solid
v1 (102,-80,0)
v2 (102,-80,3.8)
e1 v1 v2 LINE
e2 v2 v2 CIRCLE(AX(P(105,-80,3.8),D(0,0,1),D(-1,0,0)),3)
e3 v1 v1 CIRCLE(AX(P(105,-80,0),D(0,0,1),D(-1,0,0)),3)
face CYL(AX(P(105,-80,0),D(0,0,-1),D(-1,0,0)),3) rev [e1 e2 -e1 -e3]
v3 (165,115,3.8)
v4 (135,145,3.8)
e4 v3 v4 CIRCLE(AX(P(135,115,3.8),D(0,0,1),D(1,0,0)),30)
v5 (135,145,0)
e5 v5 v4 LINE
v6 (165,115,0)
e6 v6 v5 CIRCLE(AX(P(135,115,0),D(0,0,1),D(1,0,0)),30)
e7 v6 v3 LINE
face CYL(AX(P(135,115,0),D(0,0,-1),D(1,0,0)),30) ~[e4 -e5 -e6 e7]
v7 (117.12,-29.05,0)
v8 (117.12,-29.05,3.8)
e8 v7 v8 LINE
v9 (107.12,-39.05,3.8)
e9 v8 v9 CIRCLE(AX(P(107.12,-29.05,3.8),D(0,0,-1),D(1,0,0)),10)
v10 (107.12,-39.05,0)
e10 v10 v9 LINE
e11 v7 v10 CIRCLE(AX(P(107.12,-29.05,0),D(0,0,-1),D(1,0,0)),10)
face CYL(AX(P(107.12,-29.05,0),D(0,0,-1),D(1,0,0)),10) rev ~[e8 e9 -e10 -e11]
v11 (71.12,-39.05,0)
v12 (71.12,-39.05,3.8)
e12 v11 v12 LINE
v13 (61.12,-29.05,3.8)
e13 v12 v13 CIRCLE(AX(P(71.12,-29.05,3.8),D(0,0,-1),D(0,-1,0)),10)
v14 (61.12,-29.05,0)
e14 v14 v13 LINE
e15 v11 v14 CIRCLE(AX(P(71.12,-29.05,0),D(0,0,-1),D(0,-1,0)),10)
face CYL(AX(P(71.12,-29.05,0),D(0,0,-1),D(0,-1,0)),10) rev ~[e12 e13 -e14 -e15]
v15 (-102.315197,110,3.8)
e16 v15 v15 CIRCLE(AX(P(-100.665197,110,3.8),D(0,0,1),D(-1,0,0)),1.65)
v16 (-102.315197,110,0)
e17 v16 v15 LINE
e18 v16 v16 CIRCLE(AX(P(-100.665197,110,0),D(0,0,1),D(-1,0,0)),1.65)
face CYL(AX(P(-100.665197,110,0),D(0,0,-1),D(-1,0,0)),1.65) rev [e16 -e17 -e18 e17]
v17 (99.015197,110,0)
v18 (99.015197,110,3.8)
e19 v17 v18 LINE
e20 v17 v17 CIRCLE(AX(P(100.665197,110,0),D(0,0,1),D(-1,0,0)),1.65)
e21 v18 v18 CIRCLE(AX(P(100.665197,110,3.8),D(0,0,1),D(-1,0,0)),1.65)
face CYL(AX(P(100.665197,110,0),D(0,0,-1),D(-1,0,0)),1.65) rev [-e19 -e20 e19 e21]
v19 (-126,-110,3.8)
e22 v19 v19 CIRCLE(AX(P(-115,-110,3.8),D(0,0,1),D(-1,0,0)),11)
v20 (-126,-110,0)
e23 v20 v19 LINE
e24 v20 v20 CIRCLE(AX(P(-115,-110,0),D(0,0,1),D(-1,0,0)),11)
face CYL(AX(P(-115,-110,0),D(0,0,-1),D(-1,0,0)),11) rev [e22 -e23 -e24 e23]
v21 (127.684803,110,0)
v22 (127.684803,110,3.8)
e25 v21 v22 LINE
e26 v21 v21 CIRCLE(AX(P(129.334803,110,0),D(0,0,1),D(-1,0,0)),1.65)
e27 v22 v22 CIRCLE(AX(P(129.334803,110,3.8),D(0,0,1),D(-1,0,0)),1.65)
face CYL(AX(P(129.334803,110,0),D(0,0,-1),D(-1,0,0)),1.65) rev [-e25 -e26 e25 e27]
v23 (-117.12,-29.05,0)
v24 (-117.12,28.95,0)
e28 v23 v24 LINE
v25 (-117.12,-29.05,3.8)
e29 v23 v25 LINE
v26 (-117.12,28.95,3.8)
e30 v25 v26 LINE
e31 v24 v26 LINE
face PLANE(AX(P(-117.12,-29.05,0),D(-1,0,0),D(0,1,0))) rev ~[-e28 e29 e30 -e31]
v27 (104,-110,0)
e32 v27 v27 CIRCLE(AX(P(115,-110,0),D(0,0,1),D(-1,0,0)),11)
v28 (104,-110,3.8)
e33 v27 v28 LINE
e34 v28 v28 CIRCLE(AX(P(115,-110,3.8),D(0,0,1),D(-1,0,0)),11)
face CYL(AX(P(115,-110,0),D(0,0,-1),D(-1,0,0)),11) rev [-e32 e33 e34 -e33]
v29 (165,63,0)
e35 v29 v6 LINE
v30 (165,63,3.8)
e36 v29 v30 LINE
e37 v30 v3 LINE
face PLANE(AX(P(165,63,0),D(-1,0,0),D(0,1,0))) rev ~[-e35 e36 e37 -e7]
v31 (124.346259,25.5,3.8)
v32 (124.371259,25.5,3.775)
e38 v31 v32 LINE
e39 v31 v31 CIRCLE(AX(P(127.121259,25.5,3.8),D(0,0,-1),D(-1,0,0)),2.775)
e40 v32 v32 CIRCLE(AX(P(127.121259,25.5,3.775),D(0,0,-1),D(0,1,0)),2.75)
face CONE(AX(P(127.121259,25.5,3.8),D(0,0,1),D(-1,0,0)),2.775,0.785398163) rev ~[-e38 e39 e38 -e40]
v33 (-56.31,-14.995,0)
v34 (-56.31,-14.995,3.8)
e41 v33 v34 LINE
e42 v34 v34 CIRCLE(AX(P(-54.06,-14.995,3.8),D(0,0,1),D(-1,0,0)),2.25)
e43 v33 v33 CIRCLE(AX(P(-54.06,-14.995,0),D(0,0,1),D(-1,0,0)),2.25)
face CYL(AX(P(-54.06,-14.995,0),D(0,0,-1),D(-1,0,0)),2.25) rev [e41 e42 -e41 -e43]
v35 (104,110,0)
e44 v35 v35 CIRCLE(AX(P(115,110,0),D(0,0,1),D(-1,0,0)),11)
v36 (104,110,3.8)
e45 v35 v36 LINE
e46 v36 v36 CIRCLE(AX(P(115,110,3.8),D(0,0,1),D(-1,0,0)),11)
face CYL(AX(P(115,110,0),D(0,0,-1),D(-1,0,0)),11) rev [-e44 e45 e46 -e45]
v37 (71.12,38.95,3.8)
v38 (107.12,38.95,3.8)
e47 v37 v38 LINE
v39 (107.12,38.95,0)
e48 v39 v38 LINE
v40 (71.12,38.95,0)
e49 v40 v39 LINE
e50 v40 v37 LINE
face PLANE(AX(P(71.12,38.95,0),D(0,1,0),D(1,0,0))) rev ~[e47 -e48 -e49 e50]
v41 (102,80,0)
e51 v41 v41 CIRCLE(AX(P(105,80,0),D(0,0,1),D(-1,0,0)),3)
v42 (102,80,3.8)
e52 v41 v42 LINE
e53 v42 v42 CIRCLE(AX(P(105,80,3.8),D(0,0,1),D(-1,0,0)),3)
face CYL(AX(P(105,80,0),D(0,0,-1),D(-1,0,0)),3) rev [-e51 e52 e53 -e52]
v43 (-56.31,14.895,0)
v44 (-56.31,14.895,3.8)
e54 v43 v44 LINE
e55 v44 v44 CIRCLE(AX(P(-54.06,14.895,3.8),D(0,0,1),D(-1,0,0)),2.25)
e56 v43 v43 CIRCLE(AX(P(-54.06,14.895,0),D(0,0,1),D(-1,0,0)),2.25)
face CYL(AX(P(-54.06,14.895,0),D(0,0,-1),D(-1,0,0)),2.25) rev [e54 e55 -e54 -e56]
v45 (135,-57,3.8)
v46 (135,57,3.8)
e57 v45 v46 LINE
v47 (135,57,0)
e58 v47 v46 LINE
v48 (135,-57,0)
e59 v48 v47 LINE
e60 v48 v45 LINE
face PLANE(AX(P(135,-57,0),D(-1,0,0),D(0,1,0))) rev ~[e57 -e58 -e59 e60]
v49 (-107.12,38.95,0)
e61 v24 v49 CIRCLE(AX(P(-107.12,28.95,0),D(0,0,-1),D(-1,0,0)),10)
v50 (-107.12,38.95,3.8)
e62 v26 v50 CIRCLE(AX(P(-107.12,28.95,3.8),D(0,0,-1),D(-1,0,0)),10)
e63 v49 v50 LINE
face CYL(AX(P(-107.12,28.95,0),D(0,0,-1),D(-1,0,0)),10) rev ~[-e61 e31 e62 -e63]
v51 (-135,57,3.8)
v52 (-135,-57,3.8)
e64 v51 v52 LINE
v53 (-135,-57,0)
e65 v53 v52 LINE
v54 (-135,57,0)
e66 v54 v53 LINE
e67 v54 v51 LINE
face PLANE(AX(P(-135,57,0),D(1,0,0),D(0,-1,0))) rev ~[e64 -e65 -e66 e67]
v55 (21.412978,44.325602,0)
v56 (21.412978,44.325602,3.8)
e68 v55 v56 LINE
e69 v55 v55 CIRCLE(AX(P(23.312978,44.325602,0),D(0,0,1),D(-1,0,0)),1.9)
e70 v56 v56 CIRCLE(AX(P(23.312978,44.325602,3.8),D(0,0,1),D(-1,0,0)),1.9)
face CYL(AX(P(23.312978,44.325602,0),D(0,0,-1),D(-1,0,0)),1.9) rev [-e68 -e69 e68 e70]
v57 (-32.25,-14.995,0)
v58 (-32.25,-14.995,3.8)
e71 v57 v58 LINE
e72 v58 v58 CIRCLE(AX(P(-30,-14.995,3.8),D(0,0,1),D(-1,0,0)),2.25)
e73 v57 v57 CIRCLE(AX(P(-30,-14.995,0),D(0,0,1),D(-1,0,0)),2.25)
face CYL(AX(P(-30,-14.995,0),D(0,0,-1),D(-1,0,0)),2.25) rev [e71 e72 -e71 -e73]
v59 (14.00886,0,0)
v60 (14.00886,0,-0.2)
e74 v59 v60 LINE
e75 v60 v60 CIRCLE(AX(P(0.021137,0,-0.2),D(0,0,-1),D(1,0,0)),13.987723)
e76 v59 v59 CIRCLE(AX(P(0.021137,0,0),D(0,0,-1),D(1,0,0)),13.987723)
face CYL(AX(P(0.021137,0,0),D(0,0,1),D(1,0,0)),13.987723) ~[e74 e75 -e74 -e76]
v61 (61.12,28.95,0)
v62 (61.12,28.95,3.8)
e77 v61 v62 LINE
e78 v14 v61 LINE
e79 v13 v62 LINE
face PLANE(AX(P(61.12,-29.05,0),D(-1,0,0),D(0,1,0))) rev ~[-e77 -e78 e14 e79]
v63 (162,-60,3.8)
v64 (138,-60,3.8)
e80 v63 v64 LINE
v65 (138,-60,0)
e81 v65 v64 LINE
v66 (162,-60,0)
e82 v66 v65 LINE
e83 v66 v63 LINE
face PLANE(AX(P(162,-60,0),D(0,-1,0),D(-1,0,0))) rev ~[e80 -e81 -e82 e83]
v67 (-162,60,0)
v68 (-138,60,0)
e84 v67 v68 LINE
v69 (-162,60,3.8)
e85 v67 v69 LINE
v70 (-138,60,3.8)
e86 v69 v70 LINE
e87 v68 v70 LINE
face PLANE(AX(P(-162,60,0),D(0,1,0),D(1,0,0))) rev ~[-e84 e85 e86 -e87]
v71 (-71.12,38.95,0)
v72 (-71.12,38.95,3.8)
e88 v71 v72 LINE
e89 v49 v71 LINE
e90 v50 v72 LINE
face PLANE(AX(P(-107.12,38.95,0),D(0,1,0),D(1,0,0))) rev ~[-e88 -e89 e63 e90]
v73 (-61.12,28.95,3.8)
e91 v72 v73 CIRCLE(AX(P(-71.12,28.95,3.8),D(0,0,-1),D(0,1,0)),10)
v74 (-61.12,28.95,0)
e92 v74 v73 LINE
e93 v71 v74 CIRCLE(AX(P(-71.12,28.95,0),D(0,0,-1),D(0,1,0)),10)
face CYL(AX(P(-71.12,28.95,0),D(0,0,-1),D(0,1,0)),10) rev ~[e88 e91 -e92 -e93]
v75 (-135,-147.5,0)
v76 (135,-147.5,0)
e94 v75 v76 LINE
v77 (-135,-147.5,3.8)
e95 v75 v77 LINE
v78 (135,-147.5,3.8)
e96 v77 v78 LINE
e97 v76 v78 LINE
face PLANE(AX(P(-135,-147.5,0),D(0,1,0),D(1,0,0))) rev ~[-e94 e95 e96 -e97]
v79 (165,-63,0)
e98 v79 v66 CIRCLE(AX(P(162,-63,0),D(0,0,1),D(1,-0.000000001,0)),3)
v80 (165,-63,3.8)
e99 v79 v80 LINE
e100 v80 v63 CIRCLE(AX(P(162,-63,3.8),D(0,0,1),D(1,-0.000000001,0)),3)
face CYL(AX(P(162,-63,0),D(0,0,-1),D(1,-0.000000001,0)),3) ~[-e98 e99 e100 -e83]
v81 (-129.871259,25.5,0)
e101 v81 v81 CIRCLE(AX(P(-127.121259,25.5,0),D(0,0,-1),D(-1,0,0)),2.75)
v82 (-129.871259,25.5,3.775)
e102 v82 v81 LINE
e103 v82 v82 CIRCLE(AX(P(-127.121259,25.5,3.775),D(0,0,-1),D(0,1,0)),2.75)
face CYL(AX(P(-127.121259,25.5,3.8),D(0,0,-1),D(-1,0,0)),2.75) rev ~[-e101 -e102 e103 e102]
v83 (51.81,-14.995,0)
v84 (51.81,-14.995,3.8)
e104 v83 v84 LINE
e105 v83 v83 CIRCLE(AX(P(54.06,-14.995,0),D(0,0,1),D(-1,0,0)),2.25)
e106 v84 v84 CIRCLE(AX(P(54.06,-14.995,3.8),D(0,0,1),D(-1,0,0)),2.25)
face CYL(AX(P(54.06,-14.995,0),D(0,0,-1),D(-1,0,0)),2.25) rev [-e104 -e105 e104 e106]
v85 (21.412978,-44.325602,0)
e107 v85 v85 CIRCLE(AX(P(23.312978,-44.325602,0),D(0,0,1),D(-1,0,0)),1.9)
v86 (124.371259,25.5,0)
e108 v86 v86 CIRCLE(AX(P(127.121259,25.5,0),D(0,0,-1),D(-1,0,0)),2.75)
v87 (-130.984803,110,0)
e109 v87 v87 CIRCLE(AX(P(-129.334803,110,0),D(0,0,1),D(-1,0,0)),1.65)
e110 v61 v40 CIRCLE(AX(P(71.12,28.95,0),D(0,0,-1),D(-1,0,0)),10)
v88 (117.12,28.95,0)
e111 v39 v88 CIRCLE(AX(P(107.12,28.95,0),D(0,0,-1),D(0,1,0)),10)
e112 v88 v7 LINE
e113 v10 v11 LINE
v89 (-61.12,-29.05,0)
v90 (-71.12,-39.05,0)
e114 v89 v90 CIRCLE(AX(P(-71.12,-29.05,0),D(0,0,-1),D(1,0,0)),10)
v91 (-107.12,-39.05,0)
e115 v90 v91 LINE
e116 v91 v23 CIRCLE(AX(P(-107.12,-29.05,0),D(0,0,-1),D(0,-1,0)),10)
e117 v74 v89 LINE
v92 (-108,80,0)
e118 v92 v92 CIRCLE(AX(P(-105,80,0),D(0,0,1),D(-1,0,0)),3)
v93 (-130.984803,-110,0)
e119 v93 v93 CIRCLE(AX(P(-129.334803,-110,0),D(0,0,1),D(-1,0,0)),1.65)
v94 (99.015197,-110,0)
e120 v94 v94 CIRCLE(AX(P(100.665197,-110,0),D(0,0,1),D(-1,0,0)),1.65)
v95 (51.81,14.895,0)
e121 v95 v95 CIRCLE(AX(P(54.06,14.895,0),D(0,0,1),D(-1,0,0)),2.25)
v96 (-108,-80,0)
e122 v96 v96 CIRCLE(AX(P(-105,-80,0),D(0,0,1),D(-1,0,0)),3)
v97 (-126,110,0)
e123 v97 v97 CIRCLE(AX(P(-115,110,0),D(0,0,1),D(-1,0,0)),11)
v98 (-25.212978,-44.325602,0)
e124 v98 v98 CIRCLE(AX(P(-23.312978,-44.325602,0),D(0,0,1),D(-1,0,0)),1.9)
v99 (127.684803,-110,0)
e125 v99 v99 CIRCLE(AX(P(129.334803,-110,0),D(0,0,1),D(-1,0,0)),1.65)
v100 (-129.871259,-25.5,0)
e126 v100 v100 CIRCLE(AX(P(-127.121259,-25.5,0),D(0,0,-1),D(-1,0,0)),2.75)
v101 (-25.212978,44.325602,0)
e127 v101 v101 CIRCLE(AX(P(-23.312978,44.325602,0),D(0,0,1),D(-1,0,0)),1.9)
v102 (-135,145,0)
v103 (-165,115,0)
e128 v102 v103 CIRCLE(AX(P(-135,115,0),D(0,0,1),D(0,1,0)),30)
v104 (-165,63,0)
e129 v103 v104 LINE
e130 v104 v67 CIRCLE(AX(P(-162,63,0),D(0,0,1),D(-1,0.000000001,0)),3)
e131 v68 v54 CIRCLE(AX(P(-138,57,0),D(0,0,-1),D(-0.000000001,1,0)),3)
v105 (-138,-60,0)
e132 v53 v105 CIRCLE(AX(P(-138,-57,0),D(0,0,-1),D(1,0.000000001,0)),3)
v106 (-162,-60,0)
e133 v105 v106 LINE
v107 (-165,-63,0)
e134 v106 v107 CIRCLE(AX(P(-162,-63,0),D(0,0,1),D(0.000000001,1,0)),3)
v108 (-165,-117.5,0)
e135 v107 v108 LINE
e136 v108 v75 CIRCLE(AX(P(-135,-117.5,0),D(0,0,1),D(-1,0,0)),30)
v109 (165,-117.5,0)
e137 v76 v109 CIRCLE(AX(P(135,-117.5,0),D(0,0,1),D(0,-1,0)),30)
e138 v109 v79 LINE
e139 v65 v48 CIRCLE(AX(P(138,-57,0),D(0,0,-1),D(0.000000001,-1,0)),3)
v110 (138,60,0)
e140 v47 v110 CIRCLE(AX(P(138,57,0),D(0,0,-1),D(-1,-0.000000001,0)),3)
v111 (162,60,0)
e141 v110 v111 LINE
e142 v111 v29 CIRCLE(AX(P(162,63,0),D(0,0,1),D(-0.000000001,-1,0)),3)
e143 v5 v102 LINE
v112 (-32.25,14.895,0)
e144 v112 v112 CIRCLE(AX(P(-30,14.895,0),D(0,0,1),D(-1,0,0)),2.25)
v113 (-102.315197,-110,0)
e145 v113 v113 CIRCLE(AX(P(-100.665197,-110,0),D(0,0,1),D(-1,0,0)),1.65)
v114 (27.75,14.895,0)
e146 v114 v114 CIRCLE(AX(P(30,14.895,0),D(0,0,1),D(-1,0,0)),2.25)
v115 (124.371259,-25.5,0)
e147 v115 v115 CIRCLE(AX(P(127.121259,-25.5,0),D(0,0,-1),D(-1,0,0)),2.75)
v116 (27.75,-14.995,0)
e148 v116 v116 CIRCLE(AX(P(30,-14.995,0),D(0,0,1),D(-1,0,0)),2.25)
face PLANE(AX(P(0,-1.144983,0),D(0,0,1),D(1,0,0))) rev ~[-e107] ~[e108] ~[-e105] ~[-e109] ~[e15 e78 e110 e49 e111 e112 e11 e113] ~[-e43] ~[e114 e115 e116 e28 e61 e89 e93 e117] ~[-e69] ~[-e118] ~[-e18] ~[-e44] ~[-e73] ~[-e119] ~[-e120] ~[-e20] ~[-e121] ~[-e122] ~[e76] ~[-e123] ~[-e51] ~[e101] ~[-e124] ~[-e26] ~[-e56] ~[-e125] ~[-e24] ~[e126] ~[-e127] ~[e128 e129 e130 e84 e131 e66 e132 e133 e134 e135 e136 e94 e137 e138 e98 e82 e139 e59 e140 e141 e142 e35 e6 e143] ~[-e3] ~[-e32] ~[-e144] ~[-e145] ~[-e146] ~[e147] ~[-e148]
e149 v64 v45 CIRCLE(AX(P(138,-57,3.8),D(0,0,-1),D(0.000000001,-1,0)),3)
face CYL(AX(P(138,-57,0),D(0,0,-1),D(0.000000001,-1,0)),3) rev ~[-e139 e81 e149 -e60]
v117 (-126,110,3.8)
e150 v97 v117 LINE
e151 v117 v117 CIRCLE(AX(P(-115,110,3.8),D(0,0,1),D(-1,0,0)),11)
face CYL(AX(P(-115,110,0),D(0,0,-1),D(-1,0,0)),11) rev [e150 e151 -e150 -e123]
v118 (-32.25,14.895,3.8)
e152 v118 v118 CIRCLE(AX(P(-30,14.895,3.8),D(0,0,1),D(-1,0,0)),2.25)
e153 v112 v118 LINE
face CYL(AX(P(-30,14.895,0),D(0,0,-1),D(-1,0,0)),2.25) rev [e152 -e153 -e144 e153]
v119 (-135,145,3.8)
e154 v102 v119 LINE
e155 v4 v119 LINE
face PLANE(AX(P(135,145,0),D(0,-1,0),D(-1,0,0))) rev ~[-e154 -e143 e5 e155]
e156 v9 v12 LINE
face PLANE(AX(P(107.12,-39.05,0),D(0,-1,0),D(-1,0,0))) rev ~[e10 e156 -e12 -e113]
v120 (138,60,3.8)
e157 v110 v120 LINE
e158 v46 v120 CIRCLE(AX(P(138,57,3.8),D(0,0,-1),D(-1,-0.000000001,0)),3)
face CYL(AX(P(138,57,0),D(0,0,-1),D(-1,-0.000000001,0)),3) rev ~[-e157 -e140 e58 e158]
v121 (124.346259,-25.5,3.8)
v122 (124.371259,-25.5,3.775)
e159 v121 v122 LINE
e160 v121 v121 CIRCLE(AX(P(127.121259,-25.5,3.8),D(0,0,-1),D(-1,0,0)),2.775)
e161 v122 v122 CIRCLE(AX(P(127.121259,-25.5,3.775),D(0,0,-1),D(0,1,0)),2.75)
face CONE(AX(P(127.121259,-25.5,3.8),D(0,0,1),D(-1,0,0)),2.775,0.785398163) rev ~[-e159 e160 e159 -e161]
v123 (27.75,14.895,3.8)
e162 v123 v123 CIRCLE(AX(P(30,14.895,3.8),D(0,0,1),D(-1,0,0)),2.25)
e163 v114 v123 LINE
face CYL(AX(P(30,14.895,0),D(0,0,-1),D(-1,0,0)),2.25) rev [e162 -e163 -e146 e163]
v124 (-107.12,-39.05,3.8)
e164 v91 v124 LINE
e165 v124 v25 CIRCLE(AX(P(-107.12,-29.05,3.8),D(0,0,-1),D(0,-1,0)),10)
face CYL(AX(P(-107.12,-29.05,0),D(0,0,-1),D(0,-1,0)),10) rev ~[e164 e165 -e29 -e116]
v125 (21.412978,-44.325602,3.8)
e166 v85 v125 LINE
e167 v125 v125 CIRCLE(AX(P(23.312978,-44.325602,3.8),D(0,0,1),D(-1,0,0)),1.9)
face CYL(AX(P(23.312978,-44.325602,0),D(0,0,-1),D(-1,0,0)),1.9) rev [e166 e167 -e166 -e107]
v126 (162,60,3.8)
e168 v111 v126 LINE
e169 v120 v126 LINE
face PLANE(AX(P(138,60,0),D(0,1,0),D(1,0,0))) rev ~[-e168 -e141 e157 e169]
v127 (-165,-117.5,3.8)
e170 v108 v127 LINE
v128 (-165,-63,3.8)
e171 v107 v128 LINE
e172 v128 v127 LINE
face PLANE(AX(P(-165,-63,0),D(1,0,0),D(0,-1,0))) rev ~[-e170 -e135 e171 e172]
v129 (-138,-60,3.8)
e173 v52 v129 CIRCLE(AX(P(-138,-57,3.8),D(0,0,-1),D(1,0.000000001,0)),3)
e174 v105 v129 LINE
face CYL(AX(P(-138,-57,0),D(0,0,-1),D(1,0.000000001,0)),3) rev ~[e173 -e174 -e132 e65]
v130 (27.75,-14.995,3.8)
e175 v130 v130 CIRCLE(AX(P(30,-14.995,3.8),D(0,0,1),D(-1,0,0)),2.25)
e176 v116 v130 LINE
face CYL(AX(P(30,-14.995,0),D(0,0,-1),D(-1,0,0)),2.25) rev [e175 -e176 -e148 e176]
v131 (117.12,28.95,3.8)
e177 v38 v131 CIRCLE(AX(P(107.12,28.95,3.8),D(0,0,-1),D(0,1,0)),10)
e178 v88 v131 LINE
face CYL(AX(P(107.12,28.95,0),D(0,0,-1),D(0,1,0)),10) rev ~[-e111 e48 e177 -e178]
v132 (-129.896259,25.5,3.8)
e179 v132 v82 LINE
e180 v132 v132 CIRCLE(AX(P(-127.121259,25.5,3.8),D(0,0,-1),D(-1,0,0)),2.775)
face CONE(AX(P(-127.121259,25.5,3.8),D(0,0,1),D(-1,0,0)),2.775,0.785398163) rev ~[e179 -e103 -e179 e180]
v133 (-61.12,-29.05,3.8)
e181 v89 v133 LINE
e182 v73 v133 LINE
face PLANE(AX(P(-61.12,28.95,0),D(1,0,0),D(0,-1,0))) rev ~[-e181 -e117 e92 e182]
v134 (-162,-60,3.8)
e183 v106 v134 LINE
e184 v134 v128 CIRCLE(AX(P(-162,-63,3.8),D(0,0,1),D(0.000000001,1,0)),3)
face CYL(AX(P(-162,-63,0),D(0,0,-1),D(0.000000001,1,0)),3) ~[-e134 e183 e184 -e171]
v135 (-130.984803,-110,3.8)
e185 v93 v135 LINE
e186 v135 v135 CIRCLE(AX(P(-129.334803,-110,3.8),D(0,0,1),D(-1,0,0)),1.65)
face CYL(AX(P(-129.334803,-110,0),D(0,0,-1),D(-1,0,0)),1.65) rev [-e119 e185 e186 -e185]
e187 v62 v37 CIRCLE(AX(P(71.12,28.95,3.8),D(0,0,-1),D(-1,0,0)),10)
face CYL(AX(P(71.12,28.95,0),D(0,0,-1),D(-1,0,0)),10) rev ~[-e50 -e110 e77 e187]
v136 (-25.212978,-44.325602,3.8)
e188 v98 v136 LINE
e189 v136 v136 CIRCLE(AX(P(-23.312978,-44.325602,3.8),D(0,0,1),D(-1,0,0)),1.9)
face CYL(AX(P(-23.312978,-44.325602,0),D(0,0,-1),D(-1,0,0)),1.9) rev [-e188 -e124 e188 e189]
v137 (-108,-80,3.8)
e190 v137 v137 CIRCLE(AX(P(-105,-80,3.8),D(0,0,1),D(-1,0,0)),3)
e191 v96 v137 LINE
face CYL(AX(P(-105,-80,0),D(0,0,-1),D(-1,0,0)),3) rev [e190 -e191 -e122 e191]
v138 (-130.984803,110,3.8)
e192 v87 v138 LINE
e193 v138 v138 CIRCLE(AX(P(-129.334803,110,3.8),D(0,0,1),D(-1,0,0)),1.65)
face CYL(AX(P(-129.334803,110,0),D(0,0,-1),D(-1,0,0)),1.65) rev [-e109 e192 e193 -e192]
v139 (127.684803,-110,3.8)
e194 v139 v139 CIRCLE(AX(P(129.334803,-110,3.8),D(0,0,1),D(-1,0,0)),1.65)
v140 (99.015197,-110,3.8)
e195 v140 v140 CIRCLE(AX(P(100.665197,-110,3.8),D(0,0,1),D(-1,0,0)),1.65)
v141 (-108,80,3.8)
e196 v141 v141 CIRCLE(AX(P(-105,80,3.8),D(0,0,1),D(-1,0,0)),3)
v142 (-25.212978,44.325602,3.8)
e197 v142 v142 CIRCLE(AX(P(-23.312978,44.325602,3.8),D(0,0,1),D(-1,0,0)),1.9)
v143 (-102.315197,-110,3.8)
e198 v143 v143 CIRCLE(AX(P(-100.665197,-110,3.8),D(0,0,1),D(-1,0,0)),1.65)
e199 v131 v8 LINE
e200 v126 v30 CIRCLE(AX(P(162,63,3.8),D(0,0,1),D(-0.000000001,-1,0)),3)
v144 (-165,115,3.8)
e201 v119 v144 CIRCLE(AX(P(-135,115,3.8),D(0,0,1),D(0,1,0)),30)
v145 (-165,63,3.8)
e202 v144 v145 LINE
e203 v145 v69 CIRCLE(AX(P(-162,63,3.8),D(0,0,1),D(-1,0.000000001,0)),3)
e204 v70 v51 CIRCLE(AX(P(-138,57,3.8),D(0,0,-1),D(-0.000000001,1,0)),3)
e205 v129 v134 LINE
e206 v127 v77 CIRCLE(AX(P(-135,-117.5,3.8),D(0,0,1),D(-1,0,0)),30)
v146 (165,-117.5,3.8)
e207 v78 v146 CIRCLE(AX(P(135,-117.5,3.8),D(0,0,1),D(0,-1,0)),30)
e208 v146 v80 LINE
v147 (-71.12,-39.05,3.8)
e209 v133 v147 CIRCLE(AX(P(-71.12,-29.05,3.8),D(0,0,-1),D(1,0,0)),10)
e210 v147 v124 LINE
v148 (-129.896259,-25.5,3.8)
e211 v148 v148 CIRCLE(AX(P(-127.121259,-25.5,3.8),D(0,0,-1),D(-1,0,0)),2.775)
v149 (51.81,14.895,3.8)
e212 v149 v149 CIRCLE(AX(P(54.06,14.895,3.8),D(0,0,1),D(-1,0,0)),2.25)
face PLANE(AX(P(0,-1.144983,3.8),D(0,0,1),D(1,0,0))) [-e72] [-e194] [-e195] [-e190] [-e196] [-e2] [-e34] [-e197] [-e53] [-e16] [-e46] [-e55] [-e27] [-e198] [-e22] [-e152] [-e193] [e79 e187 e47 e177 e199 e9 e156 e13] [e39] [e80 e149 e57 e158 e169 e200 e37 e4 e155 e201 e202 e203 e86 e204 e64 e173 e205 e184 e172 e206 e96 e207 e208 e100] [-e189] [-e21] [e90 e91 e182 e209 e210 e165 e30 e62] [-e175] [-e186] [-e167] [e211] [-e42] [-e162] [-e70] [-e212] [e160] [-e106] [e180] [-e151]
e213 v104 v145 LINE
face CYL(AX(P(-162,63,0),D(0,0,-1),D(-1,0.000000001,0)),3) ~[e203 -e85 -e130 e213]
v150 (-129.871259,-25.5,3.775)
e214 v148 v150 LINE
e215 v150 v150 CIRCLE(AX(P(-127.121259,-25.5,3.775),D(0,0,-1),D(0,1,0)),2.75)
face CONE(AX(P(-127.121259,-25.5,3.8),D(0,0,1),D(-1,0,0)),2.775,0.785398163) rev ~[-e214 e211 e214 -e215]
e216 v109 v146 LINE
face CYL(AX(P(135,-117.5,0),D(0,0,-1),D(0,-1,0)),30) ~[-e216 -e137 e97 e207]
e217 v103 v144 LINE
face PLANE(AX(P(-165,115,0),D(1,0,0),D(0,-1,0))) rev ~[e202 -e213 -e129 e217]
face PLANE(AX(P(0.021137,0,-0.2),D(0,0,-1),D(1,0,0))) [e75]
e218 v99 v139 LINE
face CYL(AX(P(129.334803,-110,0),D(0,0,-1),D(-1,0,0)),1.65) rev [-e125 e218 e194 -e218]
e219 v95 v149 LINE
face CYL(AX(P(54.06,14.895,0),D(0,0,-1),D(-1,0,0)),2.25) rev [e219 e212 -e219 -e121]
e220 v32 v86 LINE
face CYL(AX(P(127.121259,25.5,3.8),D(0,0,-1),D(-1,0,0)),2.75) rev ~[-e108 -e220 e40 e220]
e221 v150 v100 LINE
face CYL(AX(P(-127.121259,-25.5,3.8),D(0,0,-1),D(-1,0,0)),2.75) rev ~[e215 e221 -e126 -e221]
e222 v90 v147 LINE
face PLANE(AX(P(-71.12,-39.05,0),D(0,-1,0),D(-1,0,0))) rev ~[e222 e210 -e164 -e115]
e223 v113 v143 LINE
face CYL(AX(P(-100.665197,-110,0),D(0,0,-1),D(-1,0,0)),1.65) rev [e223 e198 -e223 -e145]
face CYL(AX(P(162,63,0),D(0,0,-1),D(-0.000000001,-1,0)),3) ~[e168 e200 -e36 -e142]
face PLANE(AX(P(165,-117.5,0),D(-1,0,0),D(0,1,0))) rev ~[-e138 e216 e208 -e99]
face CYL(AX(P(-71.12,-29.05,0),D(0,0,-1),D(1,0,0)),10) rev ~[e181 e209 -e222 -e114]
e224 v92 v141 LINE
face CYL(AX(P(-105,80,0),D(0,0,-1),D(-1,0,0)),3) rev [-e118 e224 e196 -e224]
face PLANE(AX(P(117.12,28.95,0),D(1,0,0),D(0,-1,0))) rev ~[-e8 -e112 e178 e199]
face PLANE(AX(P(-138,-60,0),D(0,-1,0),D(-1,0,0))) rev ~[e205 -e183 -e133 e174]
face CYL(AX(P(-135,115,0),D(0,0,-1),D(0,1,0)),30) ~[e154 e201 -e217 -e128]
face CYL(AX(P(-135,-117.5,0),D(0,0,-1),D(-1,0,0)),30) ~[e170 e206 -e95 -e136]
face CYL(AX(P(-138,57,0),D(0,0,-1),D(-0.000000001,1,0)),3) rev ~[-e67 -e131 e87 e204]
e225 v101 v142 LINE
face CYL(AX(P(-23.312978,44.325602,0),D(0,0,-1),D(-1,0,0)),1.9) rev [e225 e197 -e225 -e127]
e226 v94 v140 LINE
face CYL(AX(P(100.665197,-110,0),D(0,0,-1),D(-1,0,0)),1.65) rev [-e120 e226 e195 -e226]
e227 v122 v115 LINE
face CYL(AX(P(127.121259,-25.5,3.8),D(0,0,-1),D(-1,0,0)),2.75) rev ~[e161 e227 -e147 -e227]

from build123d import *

# Parameters (mm, degrees)
SKETCH2_R                      = 1.65
SKETCH2_R_2                    = 11
SKETCH2_R_3                    = 3
SKETCH2_R_4                    = 1.9
SKETCH2_R_5                    = 2.25
BOSS_EXTRUDE1_DEPTH            = 3.8
M5_CLEARANCE_HOLE1_D           = 5.5
M5_CLEARANCE_HOLE1_CSINK_D     = 5.55
M5_CLEARANCE_HOLE1_CSINK_ANGLE = 90
SKETCH4_R                      = 13.987722527
BOSS_EXTRUDE2_DEPTH            = 0.2


with BuildPart() as part:
    # Sketch2 → Boss-Extrude1 (new body)
    with BuildSketch(Plane.XY):
        with BuildLine():
            Line((165, 63), (165, 115))
            ThreePointArc((165, 115), (156.213203436, 136.213203436), (135, 145))
            Line((135, 145), (71.563974327, 145))
            Line((71.563974327, 145), (-71.563974327, 145))
            Line((-71.563974327, 145), (-135, 145))
            ThreePointArc((-135, 145), (-156.213203436, 136.213203436), (-165, 115))
            Line((-165, 115), (-165, 63))
            ThreePointArc((-165, 63), (-164.121320344, 60.878679656), (-162, 60))
            Line((-162, 60), (-138, 60))
            ThreePointArc((-138, 60), (-135.878679656, 59.121320344), (-135, 57))
            Line((-135, 57), (-135, -57))
            ThreePointArc((-135, -57), (-135.878679656, -59.121320344), (-138, -60))
            Line((-138, -60), (-162, -60))
            ThreePointArc((-162, -60), (-164.121320344, -60.878679656), (-165, -63))
            Line((-165, -63), (-165, -117.5))
            ThreePointArc((-165, -117.5), (-156.213203436, -138.713203436), (-135, -147.5))
            Line((-135, -147.5), (135, -147.5))
            ThreePointArc((135, -147.5), (156.213203436, -138.713203436), (165, -117.5))
            Line((165, -117.5), (165, -63))
            ThreePointArc((165, -63), (164.121320344, -60.878679656), (162, -60))
            Line((162, -60), (138, -60))
            ThreePointArc((138, -60), (135.878679656, -59.121320344), (135, -57))
            Line((135, -57), (135, 57))
            ThreePointArc((135, 57), (135.878679656, 59.121320344), (138, 60))
            Line((138, 60), (162, 60))
            ThreePointArc((162, 60), (164.121320344, 60.878679656), (165, 63))
        make_face()
        with Locations(Location((-129.334802826, -110, 0), (0, 0, 180))):
            Circle(SKETCH2_R, mode=Mode.SUBTRACT)
        with Locations(Location((-115, -110, 0), (0, 0, 180))):
            Circle(SKETCH2_R_2, mode=Mode.SUBTRACT)
        with Locations(Location((-100.665197174, -110, 0), (0, 0, 180))):
            Circle(SKETCH2_R, mode=Mode.SUBTRACT)
        with Locations(Location((-105, -80, 0), (0, 0, 180))):
            Circle(SKETCH2_R_3, mode=Mode.SUBTRACT)
        with Locations(Location((-127.121259344, -25.5, 0), (0, 0, 180))):
            Circle(SKETCH2_R, mode=Mode.SUBTRACT)
        with Locations(Location((-23.312977745, -44.325601579, 0), (0, 0, 180))):
            Circle(SKETCH2_R_4, mode=Mode.SUBTRACT)
        with Locations(Location((-54.06, -14.995, 0), (0, 0, 180))):
            Circle(SKETCH2_R_5, mode=Mode.SUBTRACT)
        with Locations(Location((-30, -14.995, 0), (0, 0, 180))):
            Circle(SKETCH2_R_5, mode=Mode.SUBTRACT)
        with Locations(Location((100.665197174, -110, 0), (0, 0, 180))):
            Circle(SKETCH2_R, mode=Mode.SUBTRACT)
        with Locations(Location((115, -110, 0), (0, 0, 180))):
            Circle(SKETCH2_R_2, mode=Mode.SUBTRACT)
        with Locations(Location((105, -80, 0), (0, 0, 180))):
            Circle(SKETCH2_R_3, mode=Mode.SUBTRACT)
        with Locations(Location((129.334802826, -110, 0), (0, 0, 180))):
            Circle(SKETCH2_R, mode=Mode.SUBTRACT)
        with Locations(Location((23.312977745, -44.325601579, 0), (0, 0, 180))):
            Circle(SKETCH2_R_4, mode=Mode.SUBTRACT)
        with Locations(Location((30, -14.995, 0), (0, 0, 180))):
            Circle(SKETCH2_R_5, mode=Mode.SUBTRACT)
        with Locations(Location((54.06, -14.995, 0), (0, 0, 180))):
            Circle(SKETCH2_R_5, mode=Mode.SUBTRACT)
        with Locations(Location((127.121259344, -25.5, 0), (0, 0, 180))):
            Circle(SKETCH2_R, mode=Mode.SUBTRACT)
        with Locations(Location((-127.121259344, 25.5, 0), (0, 0, 180))):
            Circle(SKETCH2_R, mode=Mode.SUBTRACT)
        with BuildLine():
            ThreePointArc((-117.12, 28.95), (-114.191067812, 36.021067812), (-107.12, 38.95))
            Line((-107.12, 38.95), (-71.12, 38.95))
            ThreePointArc((-71.12, 38.95), (-64.048932188, 36.021067812), (-61.12, 28.95))
            Line((-61.12, 28.95), (-61.12, -29.05))
            ThreePointArc((-61.12, -29.05), (-64.048932188, -36.121067812), (-71.12, -39.05))
            Line((-71.12, -39.05), (-107.12, -39.05))
            ThreePointArc((-107.12, -39.05), (-114.191067812, -36.121067812), (-117.12, -29.05))
            Line((-117.12, -29.05), (-117.12, 28.95))
        make_face(mode=Mode.SUBTRACT)
        with Locations(Location((-54.06, 14.895, 0), (0, 0, 180))):
            Circle(SKETCH2_R_5, mode=Mode.SUBTRACT)
        with Locations(Location((-30, 14.895, 0), (0, 0, 180))):
            Circle(SKETCH2_R_5, mode=Mode.SUBTRACT)
        with Locations(Location((-23.312977745, 44.325601579, 0), (0, 0, 180))):
            Circle(SKETCH2_R_4, mode=Mode.SUBTRACT)
        with Locations(Location((-105, 80, 0), (0, 0, 180))):
            Circle(SKETCH2_R_3, mode=Mode.SUBTRACT)
        with Locations(Location((-129.334802826, 110, 0), (0, 0, 180))):
            Circle(SKETCH2_R, mode=Mode.SUBTRACT)
        with Locations(Location((-115, 110, 0), (0, 0, 180))):
            Circle(SKETCH2_R_2, mode=Mode.SUBTRACT)
        with Locations(Location((-100.665197174, 110, 0), (0, 0, 180))):
            Circle(SKETCH2_R, mode=Mode.SUBTRACT)
        with Locations(Location((30, 14.895, 0), (0, 0, 180))):
            Circle(SKETCH2_R_5, mode=Mode.SUBTRACT)
        with Locations(Location((54.06, 14.895, 0), (0, 0, 180))):
            Circle(SKETCH2_R_5, mode=Mode.SUBTRACT)
        with Locations(Location((23.312977745, 44.325601579, 0), (0, 0, 180))):
            Circle(SKETCH2_R_4, mode=Mode.SUBTRACT)
        with BuildLine():
            Line((61.12, -29.05), (61.12, 28.95))
            ThreePointArc((61.12, 28.95), (64.048932188, 36.021067812), (71.12, 38.95))
            Line((71.12, 38.95), (107.12, 38.95))
            ThreePointArc((107.12, 38.95), (114.191067812, 36.021067812), (117.12, 28.95))
            Line((117.12, 28.95), (117.12, -29.05))
            ThreePointArc((117.12, -29.05), (114.191067812, -36.121067812), (107.12, -39.05))
            Line((107.12, -39.05), (71.12, -39.05))
            ThreePointArc((71.12, -39.05), (64.048932188, -36.121067812), (61.12, -29.05))
        make_face(mode=Mode.SUBTRACT)
        with Locations(Location((127.121259344, 25.5, 0), (0, 0, 180))):
            Circle(SKETCH2_R, mode=Mode.SUBTRACT)
        with Locations(Location((105, 80, 0), (0, 0, 180))):
            Circle(SKETCH2_R_3, mode=Mode.SUBTRACT)
        with Locations(Location((100.665197174, 110, 0), (0, 0, 180))):
            Circle(SKETCH2_R, mode=Mode.SUBTRACT)
        with Locations(Location((115, 110, 0), (0, 0, 180))):
            Circle(SKETCH2_R_2, mode=Mode.SUBTRACT)
        with Locations(Location((129.334802826, 110, 0), (0, 0, 180))):
            Circle(SKETCH2_R, mode=Mode.SUBTRACT)
    extrude(amount=BOSS_EXTRUDE1_DEPTH)

    # M5 Clearance Hole1 (through all)
    with Locations(Plane(origin=(-127.121259344, 25.5, 3.8), x_dir=(1, 0, 0), z_dir=(0, 0, 1))):
        with Locations((0, 0), (0, -51), (254.242518688, -51), (254.242518688, 0)):
            CounterSinkHole(M5_CLEARANCE_HOLE1_D / 2, M5_CLEARANCE_HOLE1_CSINK_D / 2, counter_sink_angle=M5_CLEARANCE_HOLE1_CSINK_ANGLE)

    # Sketch4 → Boss-Extrude2 (add)
    with BuildSketch(Plane(origin=(0, 0, 0), x_dir=(-1, 0, 0), z_dir=(0, 0, -1))):
        with Locations(Location((-0.021137242, 0, 0), (0, 0, 180))):
            Circle(SKETCH4_R)
    extrude(amount=BOSS_EXTRUDE2_DEPTH)


solid = part.part
